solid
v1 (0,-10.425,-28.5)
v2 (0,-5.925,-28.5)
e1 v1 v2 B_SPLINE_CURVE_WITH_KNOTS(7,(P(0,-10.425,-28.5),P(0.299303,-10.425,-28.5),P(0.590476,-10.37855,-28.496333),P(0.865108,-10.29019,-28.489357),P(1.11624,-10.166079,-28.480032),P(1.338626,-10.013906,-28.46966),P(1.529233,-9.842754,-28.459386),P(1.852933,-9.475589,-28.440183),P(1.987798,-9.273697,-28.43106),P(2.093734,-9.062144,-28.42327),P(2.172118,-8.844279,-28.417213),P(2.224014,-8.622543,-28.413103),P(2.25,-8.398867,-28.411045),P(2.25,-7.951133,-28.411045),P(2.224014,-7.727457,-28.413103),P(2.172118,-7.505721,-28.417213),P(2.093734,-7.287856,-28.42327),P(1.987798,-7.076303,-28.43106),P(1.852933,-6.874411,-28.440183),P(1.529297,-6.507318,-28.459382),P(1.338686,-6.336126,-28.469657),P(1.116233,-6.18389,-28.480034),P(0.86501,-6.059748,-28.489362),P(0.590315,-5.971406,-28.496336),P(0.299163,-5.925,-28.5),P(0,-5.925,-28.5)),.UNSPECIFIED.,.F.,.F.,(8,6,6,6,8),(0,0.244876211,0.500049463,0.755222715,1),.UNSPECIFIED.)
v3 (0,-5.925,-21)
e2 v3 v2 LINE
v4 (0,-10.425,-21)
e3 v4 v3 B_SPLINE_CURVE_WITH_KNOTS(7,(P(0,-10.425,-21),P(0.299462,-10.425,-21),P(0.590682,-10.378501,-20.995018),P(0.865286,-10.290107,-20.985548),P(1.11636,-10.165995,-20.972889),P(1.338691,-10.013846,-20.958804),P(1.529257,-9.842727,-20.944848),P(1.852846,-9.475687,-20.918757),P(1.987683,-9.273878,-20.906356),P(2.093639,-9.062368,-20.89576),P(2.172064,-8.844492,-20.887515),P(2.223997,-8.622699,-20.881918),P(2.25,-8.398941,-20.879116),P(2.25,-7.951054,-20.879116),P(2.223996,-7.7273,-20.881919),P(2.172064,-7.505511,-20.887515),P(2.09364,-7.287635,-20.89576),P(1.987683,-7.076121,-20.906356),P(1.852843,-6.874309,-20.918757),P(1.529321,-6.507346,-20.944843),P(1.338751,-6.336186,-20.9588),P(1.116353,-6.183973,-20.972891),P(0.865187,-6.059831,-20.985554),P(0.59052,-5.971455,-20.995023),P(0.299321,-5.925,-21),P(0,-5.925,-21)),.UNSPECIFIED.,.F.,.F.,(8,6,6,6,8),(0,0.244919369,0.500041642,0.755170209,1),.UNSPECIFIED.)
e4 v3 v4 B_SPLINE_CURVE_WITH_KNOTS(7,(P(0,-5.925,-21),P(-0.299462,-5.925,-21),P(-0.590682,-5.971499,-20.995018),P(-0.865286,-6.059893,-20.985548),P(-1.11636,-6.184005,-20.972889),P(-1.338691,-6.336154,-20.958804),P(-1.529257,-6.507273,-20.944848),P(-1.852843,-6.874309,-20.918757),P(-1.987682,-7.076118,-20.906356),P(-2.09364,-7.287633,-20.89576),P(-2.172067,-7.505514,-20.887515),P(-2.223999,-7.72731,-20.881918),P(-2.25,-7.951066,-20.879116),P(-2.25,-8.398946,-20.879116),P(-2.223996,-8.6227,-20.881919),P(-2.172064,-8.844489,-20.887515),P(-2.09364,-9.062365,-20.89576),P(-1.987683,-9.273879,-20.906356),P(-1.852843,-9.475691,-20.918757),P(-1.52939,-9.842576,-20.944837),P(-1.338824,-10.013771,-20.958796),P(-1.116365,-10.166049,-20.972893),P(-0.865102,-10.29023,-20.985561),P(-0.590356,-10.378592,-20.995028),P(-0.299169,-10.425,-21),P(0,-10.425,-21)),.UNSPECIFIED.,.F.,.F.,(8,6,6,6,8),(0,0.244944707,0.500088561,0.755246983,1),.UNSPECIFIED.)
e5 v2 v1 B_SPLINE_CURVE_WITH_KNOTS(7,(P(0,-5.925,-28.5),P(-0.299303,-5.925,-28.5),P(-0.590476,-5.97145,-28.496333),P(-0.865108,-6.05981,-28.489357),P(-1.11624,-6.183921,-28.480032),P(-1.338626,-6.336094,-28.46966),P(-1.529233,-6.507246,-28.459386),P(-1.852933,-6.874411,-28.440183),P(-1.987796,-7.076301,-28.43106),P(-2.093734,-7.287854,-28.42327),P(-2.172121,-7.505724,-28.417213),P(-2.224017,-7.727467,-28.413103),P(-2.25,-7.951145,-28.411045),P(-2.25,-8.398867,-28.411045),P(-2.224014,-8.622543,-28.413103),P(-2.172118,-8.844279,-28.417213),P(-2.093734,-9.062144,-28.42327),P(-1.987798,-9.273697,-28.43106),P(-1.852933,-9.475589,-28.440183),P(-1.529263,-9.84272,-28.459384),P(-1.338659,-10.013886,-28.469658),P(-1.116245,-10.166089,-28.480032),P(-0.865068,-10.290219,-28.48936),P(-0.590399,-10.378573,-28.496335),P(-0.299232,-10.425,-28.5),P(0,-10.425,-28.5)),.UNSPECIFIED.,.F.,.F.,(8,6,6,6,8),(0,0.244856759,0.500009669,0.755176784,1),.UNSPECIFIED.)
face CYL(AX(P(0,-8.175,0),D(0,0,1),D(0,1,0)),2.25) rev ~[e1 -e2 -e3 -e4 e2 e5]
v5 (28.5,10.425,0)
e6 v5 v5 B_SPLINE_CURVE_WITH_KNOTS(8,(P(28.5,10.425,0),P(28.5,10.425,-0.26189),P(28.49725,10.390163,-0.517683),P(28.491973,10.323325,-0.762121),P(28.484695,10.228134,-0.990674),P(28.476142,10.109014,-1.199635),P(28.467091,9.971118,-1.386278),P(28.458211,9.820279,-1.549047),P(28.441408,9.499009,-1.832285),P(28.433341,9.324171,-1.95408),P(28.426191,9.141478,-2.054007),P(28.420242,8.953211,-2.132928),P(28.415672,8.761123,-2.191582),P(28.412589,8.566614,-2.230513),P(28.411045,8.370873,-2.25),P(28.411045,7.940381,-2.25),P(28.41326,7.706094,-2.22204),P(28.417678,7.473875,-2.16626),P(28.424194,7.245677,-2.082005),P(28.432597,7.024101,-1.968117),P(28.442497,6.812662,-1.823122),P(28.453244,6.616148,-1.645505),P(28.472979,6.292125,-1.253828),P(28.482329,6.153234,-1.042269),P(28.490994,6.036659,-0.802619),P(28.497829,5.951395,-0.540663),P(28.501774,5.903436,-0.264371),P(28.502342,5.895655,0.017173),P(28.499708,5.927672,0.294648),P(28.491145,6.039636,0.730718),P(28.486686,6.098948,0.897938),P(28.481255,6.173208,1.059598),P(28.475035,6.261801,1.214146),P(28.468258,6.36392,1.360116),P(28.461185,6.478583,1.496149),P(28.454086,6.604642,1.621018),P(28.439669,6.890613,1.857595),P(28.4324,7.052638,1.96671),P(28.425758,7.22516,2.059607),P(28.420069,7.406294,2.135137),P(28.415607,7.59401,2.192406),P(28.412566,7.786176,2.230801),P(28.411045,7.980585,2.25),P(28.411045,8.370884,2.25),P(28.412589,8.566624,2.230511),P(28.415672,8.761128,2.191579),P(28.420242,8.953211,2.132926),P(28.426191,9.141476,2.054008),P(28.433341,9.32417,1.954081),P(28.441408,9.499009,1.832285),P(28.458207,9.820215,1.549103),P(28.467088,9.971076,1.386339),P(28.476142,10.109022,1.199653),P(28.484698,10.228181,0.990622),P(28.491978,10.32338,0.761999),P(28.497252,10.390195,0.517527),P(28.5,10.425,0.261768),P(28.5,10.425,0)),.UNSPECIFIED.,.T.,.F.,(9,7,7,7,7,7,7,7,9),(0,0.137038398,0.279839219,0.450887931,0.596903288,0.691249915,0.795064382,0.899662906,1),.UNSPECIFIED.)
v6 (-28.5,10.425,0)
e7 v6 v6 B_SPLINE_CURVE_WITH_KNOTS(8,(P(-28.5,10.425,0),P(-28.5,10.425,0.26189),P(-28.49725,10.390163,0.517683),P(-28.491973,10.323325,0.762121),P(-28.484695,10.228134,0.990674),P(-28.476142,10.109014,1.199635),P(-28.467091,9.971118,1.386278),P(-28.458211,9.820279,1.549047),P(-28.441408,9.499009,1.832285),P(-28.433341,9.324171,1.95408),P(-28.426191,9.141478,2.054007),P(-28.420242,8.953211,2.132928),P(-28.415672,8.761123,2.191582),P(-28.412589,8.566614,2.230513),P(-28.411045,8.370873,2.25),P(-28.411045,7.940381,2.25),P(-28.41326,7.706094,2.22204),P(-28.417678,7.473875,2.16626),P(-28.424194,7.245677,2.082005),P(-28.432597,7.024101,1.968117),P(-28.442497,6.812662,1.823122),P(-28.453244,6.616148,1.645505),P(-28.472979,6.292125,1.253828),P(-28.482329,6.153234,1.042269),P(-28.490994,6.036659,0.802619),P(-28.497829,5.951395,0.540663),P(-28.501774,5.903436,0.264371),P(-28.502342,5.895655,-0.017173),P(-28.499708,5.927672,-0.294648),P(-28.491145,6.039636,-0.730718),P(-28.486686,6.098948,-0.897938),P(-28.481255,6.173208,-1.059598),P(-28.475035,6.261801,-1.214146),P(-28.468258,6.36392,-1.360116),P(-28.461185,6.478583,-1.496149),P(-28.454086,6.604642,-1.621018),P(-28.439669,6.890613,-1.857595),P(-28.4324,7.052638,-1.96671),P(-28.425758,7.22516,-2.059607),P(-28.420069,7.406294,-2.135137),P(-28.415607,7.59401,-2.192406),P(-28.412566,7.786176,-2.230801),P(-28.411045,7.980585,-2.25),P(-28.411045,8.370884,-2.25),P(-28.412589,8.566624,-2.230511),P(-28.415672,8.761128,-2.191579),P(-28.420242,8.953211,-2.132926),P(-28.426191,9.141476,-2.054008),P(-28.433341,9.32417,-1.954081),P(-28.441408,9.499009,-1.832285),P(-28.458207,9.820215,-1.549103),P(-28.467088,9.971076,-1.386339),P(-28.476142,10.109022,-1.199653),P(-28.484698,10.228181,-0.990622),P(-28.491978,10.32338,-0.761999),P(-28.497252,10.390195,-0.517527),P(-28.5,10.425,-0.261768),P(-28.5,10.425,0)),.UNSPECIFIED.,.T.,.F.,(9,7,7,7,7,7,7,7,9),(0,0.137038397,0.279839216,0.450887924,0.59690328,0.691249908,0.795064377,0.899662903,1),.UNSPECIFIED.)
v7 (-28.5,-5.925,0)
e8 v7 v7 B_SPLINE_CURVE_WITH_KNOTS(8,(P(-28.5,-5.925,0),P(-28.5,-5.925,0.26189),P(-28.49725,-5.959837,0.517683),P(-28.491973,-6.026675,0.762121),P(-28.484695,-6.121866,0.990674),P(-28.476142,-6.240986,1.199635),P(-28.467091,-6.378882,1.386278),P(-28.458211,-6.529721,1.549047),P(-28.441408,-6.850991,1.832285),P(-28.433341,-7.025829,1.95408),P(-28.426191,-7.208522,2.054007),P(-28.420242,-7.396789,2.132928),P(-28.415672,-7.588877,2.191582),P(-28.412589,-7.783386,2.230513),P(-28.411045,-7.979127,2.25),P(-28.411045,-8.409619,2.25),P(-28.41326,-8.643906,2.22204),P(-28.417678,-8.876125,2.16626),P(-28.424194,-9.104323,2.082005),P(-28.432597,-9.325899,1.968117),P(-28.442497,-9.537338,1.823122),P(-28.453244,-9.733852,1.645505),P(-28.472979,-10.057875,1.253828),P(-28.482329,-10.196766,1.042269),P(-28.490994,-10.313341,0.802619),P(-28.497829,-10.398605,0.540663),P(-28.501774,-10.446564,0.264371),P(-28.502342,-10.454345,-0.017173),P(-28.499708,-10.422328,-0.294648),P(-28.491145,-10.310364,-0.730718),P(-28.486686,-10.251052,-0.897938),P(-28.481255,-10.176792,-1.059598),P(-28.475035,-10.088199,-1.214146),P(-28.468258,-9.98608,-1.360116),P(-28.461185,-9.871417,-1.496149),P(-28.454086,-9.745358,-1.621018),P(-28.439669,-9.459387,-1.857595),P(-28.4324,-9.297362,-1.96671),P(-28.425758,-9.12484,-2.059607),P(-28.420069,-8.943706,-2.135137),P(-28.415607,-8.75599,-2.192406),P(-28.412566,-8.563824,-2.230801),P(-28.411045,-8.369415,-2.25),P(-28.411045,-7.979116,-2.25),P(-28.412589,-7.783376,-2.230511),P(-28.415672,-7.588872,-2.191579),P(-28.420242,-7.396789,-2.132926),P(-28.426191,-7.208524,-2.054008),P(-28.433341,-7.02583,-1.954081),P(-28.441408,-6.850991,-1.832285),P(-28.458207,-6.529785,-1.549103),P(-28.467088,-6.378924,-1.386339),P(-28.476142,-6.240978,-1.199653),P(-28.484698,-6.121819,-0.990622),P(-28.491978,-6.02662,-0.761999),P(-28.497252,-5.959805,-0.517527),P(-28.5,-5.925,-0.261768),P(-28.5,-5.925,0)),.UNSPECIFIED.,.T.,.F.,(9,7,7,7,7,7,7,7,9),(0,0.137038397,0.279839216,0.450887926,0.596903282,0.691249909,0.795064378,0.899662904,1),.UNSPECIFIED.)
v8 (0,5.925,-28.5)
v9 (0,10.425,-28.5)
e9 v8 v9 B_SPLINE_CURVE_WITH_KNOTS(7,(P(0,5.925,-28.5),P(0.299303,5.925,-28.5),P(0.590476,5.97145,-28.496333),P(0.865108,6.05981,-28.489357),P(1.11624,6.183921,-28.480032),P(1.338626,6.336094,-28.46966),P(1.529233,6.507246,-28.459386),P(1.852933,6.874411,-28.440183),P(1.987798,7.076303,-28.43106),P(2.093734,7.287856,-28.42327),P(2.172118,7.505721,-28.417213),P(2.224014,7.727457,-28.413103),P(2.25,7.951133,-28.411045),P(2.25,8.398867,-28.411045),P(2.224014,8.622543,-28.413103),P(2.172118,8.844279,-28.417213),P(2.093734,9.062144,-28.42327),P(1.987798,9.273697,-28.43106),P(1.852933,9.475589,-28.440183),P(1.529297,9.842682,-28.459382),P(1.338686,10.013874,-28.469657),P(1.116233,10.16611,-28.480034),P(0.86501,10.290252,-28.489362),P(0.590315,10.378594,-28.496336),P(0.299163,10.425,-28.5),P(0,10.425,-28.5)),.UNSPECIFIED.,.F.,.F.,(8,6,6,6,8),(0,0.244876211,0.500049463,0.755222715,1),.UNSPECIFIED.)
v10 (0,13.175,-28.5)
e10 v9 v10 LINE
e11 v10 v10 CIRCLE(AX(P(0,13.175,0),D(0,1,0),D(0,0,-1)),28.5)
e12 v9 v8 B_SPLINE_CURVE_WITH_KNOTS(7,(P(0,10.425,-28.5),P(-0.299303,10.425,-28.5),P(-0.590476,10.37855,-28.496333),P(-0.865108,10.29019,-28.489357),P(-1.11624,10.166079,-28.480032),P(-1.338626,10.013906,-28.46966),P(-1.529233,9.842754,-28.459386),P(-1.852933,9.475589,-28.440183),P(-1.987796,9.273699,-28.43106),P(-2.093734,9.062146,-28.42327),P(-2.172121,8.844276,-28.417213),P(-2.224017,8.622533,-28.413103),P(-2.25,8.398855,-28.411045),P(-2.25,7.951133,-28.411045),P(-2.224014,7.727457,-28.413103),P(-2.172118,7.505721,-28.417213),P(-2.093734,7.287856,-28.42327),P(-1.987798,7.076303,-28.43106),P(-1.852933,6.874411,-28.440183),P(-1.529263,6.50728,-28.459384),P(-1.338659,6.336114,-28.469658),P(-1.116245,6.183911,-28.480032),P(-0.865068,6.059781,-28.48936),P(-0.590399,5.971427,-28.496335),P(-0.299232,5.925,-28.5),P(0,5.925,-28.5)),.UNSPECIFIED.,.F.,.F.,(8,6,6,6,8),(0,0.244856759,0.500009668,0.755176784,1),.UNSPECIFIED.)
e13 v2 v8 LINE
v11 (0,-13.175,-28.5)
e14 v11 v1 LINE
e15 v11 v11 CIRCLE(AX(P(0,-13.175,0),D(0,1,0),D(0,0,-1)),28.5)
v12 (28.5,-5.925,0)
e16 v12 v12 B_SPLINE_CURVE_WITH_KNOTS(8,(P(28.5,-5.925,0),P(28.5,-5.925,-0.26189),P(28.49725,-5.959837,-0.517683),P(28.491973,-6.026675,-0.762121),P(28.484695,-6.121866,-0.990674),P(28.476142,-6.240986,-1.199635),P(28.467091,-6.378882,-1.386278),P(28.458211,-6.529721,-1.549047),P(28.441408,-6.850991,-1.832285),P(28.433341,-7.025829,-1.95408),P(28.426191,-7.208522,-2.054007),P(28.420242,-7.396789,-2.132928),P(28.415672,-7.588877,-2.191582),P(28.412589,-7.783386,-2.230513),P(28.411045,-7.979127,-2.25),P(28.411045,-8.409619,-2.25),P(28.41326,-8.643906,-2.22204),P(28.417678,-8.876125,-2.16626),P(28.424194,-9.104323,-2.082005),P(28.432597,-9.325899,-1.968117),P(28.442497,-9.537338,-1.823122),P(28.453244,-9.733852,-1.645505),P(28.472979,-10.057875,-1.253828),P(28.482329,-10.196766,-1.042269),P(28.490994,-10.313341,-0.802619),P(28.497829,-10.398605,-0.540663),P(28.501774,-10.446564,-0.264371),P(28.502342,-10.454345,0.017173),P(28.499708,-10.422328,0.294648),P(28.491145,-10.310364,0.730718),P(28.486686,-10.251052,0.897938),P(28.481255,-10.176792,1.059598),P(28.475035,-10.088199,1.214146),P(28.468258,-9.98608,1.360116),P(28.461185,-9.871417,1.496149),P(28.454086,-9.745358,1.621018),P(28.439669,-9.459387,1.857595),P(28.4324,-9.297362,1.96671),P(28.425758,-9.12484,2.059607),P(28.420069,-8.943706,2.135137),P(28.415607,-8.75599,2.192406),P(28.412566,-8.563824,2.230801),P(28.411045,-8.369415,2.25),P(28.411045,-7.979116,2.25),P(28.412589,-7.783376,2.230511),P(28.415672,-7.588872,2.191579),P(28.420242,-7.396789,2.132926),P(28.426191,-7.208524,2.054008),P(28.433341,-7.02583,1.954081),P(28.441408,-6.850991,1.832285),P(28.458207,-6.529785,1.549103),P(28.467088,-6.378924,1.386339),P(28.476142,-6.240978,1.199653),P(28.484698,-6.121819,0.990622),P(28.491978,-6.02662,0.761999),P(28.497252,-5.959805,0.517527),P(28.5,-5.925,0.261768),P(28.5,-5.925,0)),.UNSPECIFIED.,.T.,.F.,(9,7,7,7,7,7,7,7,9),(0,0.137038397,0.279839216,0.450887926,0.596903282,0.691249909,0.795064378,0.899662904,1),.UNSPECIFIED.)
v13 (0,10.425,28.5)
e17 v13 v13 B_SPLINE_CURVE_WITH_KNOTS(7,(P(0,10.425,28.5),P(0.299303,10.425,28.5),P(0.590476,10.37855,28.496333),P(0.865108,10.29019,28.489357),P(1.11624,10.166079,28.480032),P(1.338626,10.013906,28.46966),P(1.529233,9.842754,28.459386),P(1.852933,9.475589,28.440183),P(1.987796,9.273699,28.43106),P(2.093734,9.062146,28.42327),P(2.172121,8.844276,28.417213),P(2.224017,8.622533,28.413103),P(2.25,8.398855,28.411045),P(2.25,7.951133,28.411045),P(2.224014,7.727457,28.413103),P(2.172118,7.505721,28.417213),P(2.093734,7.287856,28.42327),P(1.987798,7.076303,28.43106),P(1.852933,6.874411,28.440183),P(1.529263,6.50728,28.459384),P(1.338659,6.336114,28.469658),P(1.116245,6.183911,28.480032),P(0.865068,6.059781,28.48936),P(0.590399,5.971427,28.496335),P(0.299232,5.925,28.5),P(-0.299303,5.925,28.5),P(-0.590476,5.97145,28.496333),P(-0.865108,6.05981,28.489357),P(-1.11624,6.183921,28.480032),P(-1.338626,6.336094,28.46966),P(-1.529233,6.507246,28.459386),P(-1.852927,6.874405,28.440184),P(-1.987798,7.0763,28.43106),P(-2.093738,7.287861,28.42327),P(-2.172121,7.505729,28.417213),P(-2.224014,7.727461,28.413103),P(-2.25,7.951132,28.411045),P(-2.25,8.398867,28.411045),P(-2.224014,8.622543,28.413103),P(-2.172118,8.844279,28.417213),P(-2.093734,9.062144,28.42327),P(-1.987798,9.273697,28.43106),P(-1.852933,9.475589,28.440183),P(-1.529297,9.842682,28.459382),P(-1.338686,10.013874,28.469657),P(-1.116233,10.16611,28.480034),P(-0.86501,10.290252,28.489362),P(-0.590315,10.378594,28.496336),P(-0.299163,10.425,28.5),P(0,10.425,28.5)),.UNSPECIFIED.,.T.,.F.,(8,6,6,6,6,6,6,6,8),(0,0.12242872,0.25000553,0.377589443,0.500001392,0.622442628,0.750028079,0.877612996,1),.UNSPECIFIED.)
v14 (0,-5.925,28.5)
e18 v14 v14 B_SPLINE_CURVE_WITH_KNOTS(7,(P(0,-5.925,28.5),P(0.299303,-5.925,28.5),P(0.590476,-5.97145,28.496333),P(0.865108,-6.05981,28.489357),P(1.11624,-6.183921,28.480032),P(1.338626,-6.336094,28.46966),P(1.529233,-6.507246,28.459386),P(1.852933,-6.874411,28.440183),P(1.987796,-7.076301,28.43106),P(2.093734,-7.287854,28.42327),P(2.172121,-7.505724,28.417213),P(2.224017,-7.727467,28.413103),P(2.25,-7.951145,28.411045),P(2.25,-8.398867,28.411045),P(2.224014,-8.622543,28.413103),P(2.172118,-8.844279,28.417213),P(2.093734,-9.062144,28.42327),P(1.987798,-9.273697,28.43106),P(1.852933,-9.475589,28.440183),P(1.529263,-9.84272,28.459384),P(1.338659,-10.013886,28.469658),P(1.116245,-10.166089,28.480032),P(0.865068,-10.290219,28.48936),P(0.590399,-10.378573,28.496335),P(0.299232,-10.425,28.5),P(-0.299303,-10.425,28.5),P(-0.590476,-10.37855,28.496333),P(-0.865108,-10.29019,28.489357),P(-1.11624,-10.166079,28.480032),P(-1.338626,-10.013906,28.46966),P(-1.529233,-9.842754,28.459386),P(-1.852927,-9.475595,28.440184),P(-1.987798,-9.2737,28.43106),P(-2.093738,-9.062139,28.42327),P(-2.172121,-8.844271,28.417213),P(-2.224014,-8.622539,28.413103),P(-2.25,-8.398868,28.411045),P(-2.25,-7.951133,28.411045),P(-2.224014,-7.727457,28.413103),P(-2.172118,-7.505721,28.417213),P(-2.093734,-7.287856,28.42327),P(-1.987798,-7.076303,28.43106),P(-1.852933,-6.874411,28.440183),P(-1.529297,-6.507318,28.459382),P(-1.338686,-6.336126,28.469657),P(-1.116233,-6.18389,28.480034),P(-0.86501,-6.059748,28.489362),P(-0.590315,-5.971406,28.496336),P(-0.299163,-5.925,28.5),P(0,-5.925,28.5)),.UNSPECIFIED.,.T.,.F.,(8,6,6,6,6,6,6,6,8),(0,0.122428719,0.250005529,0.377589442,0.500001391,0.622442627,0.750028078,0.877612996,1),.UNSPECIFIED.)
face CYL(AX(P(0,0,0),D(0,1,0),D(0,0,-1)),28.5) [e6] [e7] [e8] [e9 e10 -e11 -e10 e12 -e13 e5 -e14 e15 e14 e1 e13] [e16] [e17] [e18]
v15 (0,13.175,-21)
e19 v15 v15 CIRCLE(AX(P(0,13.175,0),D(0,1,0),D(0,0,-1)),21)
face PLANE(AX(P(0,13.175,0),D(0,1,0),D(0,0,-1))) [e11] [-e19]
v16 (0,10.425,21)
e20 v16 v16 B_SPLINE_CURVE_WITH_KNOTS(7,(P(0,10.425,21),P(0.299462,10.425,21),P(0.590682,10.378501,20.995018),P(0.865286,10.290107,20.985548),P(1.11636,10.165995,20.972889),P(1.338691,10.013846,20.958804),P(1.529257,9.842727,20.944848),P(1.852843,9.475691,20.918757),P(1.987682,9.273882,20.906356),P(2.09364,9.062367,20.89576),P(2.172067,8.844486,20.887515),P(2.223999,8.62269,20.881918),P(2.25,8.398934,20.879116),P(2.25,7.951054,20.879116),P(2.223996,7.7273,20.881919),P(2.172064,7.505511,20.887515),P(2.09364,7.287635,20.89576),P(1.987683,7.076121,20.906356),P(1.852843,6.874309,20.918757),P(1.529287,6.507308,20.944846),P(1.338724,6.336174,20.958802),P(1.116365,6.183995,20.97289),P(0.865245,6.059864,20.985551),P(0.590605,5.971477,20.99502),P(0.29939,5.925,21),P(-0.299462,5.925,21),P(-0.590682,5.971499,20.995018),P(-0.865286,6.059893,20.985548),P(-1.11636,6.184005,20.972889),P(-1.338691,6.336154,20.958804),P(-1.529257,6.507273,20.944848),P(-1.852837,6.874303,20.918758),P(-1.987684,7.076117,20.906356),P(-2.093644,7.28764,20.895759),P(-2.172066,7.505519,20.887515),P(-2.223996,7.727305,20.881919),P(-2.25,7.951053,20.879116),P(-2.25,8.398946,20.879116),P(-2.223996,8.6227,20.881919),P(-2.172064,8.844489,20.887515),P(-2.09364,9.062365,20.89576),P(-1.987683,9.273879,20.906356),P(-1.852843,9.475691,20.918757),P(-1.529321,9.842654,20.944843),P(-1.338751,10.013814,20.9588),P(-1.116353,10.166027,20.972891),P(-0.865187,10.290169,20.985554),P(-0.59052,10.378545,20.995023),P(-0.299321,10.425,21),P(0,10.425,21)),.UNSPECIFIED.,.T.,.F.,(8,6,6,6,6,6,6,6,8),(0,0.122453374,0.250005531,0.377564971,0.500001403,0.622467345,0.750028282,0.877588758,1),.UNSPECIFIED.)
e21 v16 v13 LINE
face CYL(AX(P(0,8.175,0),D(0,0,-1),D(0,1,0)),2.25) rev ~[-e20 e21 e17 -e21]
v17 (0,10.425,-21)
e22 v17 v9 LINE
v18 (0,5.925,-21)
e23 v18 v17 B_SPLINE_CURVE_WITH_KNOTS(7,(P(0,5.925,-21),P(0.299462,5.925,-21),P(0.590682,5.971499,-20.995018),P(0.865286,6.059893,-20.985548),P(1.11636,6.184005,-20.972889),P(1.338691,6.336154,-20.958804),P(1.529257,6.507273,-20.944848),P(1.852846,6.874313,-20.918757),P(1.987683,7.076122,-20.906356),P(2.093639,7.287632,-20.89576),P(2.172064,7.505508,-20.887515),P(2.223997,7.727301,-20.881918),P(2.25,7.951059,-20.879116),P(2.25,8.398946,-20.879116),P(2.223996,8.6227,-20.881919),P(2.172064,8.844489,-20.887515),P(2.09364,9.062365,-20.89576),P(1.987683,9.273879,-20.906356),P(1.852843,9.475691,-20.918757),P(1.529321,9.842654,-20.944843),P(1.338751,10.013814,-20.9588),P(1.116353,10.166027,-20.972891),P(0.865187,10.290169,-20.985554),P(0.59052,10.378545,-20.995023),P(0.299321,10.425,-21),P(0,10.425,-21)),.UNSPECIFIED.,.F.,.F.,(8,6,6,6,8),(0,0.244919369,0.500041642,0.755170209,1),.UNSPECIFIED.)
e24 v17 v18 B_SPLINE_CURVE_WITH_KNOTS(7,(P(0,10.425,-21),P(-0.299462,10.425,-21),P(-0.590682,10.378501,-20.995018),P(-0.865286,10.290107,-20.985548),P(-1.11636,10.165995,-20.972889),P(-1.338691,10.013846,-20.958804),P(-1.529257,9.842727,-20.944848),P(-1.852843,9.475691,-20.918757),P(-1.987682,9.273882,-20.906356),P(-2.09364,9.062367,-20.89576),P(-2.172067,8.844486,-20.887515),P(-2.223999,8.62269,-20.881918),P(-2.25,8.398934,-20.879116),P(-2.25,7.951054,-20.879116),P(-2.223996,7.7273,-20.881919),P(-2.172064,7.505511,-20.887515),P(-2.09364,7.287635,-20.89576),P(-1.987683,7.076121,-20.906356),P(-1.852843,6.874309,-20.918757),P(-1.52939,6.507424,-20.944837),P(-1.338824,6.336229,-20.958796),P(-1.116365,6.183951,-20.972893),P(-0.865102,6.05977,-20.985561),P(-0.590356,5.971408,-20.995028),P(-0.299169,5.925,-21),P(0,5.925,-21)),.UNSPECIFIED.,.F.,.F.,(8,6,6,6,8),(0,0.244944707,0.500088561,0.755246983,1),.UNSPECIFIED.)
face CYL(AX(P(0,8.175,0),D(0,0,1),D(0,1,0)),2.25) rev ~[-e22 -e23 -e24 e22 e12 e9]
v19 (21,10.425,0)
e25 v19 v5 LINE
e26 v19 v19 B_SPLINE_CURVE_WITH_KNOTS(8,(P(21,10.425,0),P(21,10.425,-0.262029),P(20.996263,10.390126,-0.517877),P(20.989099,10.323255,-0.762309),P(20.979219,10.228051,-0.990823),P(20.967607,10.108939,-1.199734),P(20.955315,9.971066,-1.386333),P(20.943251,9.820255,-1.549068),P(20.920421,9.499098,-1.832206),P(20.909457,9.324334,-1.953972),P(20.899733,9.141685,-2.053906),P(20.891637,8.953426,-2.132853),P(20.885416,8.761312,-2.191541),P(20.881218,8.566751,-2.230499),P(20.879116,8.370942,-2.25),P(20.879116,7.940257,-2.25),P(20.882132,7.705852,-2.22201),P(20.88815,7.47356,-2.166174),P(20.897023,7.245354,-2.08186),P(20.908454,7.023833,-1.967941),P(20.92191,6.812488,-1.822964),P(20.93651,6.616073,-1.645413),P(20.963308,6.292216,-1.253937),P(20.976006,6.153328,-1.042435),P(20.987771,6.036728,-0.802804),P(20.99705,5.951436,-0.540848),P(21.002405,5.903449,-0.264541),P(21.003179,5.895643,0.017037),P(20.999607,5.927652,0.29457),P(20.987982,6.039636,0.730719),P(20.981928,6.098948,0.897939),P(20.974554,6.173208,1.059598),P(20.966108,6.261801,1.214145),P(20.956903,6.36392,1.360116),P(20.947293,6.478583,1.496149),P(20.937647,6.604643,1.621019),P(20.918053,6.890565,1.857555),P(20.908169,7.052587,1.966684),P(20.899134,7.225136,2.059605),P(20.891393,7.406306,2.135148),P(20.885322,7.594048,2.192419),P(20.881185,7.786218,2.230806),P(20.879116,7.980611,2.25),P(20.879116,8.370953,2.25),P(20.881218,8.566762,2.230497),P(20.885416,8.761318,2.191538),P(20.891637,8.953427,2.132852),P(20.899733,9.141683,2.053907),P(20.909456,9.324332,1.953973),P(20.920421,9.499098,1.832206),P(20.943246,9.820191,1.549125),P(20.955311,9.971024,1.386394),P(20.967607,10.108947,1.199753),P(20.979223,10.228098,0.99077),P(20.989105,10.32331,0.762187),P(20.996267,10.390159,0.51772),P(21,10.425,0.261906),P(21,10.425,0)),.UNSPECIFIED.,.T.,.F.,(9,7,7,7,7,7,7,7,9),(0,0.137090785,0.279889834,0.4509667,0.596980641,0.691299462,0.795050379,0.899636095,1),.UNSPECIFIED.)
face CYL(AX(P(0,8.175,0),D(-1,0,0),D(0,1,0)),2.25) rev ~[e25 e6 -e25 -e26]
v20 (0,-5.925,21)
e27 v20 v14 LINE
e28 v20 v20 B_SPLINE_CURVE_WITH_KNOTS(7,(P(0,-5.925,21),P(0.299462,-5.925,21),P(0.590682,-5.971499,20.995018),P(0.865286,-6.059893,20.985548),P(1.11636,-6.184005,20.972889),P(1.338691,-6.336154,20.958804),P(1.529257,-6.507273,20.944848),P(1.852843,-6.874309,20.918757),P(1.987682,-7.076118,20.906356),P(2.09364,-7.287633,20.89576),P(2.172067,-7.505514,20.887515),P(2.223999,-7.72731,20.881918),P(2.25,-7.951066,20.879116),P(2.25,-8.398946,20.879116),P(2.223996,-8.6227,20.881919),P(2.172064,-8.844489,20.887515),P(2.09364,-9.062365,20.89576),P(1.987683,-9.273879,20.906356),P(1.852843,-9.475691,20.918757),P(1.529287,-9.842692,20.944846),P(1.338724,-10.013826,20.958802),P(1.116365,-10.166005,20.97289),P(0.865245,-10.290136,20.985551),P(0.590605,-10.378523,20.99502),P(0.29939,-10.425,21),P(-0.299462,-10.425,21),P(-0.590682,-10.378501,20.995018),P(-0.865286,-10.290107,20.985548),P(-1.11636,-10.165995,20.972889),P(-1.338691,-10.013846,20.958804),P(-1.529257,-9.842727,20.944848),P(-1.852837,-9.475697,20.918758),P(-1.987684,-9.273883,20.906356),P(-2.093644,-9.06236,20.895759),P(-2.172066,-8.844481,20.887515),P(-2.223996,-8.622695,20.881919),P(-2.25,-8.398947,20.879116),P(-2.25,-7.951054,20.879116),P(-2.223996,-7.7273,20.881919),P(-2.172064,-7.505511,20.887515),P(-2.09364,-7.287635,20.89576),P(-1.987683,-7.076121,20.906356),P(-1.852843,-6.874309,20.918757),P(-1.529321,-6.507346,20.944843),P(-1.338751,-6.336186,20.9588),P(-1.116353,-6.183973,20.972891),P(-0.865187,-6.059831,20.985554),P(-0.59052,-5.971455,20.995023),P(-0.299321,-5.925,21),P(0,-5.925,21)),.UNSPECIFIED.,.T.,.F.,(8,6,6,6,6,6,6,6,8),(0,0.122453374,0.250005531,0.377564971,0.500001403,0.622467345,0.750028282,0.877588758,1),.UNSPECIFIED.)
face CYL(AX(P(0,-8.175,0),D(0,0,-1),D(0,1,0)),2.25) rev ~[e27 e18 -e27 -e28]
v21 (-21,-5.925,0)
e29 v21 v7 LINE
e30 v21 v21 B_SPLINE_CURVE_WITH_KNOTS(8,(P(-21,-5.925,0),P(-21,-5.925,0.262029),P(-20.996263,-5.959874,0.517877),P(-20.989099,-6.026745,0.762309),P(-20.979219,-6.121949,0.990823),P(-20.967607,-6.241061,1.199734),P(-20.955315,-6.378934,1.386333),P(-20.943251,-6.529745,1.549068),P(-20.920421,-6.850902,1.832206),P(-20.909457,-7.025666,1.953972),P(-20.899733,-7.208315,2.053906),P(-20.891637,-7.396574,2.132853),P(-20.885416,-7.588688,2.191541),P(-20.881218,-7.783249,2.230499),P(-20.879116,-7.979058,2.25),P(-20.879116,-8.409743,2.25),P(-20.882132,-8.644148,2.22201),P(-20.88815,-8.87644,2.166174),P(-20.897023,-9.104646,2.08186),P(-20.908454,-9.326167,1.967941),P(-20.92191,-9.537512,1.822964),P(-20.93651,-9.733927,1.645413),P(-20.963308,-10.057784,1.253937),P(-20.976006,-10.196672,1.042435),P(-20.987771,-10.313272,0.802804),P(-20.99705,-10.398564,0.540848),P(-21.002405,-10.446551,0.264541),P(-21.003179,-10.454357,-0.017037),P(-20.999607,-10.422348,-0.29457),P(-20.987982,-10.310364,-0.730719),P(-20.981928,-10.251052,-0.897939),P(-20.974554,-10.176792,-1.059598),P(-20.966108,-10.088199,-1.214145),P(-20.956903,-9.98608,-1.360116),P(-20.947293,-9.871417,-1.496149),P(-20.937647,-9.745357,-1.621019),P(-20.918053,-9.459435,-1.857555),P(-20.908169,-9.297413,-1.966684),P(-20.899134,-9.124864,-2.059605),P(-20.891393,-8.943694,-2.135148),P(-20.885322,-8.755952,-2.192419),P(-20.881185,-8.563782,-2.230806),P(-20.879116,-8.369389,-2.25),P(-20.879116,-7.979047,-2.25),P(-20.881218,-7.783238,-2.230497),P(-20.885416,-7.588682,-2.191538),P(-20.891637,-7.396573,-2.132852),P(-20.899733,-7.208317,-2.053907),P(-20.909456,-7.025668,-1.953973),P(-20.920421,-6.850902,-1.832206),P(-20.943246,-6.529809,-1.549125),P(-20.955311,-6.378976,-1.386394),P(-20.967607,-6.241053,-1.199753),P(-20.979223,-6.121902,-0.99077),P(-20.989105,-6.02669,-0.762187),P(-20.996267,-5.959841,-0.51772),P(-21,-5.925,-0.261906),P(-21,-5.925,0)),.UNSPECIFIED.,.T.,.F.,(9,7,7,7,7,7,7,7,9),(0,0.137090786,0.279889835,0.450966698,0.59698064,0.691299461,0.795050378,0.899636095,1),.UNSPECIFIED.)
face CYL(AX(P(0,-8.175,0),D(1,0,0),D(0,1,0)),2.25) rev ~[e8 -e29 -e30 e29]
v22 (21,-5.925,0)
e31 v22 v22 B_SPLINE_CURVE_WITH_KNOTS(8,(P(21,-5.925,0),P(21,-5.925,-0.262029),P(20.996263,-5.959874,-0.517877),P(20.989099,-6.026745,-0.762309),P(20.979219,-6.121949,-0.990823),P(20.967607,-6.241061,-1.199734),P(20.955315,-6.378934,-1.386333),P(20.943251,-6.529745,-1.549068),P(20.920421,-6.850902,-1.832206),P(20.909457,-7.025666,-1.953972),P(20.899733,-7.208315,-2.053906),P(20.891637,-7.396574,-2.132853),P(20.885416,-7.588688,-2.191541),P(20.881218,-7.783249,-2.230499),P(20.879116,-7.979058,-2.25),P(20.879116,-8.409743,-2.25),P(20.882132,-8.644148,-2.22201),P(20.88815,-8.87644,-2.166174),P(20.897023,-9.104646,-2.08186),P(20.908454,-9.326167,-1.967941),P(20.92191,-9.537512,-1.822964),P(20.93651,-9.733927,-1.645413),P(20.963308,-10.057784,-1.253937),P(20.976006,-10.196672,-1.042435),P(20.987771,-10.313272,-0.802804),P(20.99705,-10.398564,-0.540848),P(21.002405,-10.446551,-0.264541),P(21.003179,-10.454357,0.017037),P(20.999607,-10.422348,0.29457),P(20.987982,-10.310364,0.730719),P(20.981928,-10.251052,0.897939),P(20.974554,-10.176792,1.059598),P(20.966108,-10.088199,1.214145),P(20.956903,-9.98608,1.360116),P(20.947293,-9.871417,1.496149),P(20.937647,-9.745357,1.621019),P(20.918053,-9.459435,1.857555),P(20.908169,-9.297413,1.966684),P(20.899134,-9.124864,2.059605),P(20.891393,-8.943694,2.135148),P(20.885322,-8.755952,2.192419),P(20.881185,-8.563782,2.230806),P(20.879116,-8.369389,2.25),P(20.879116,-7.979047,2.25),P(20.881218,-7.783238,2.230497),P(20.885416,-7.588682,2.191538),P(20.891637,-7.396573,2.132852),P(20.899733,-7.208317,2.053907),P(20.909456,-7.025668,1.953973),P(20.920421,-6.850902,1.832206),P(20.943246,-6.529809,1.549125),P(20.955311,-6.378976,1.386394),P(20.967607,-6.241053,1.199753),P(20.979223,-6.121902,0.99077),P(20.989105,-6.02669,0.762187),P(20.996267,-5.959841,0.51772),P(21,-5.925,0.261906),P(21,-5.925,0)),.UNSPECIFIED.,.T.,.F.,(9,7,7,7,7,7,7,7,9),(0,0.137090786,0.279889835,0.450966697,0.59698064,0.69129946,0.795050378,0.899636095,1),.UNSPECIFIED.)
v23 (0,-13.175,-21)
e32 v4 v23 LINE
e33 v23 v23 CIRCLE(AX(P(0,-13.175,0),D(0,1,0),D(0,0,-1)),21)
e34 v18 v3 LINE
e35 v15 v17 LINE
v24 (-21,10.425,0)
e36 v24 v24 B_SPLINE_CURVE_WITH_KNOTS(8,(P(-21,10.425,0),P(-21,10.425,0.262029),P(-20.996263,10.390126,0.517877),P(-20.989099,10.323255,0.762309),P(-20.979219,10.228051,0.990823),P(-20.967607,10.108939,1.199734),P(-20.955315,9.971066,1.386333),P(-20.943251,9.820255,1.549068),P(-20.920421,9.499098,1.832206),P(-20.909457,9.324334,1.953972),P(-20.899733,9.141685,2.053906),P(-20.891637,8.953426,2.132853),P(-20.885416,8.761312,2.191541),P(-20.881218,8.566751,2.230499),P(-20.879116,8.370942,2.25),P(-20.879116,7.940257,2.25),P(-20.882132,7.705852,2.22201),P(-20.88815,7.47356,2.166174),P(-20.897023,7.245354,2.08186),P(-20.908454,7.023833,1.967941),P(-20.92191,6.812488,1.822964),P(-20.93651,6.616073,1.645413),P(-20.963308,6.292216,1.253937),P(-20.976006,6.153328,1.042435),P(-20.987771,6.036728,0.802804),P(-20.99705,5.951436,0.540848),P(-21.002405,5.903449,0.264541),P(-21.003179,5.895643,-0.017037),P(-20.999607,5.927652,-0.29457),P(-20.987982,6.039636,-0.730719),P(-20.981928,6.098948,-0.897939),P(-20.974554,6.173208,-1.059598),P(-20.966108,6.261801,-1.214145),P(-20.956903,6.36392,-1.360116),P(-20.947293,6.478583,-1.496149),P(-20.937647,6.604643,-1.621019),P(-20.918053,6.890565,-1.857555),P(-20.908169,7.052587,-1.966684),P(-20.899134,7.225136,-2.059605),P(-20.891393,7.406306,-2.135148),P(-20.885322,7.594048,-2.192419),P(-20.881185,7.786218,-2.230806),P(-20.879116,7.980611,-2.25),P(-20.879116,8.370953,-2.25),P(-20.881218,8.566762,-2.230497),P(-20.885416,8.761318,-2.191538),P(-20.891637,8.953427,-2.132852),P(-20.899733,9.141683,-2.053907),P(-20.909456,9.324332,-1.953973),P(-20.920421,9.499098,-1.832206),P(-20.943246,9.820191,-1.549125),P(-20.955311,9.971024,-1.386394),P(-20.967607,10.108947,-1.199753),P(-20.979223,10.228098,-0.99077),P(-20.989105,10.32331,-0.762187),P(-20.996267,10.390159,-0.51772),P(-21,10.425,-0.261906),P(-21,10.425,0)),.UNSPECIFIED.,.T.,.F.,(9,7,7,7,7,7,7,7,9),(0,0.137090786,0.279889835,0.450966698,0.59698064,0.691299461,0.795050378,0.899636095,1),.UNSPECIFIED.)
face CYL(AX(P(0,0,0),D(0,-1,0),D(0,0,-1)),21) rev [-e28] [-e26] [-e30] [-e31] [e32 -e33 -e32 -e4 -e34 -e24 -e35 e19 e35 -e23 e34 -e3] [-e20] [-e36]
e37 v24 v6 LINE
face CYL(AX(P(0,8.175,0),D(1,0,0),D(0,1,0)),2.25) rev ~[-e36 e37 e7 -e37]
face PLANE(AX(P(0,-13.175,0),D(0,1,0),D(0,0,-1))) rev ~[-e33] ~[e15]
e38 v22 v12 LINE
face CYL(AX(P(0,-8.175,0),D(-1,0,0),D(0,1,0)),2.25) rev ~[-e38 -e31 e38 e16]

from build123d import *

# Parameters (mm, degrees)
SKETCH1_R           = 28.5
SKETCH1_R_2         = 21
BOSS_EXTRUDE1_DEPTH = 13.175
SKETCH2_R           = 2.25
CUT_EXTRUDE1_DEPTH  = 43.403780787
CIRPATTERN1_COUNT   = 4


with BuildPart() as part:
    # Sketch1 → Boss-Extrude1 (new, symmetric)
    with BuildSketch(Plane(origin=(0, 0, 0), x_dir=(1, 0, 0), z_dir=(0, 1, 0))):
        with Locations(Location((0, 0, 0), (0, 0, 90))):
            Circle(SKETCH1_R)
        with Locations(Location((0, 0, 0), (0, 0, 90))):
            Circle(SKETCH1_R_2, mode=Mode.SUBTRACT)
    extrude(amount=BOSS_EXTRUDE1_DEPTH, both=True)

    # Sketch2 → Cut-Extrude1 (cut, through all)
    with BuildSketch(Plane.XY):
        with Locations(Location((0, 8.175, 0), (0, 0, 90))):
            Circle(SKETCH2_R)
        with Locations(Location((0, -8.175, 0), (0, 0, 90))):
            Circle(SKETCH2_R)
    cut_extrude1 = extrude(amount=-CUT_EXTRUDE1_DEPTH, mode=Mode.SUBTRACT)

    # CirPattern1: Cut-Extrude1 ×4 about axis
    cirpattern1_axis = Axis((0, 13.175, 0), (0, -1, 0))
    for i in range(1, CIRPATTERN1_COUNT):
        add(cut_extrude1.rotate(cirpattern1_axis, i * 360 / CIRPATTERN1_COUNT), mode=Mode.SUBTRACT)


solid = part.part
